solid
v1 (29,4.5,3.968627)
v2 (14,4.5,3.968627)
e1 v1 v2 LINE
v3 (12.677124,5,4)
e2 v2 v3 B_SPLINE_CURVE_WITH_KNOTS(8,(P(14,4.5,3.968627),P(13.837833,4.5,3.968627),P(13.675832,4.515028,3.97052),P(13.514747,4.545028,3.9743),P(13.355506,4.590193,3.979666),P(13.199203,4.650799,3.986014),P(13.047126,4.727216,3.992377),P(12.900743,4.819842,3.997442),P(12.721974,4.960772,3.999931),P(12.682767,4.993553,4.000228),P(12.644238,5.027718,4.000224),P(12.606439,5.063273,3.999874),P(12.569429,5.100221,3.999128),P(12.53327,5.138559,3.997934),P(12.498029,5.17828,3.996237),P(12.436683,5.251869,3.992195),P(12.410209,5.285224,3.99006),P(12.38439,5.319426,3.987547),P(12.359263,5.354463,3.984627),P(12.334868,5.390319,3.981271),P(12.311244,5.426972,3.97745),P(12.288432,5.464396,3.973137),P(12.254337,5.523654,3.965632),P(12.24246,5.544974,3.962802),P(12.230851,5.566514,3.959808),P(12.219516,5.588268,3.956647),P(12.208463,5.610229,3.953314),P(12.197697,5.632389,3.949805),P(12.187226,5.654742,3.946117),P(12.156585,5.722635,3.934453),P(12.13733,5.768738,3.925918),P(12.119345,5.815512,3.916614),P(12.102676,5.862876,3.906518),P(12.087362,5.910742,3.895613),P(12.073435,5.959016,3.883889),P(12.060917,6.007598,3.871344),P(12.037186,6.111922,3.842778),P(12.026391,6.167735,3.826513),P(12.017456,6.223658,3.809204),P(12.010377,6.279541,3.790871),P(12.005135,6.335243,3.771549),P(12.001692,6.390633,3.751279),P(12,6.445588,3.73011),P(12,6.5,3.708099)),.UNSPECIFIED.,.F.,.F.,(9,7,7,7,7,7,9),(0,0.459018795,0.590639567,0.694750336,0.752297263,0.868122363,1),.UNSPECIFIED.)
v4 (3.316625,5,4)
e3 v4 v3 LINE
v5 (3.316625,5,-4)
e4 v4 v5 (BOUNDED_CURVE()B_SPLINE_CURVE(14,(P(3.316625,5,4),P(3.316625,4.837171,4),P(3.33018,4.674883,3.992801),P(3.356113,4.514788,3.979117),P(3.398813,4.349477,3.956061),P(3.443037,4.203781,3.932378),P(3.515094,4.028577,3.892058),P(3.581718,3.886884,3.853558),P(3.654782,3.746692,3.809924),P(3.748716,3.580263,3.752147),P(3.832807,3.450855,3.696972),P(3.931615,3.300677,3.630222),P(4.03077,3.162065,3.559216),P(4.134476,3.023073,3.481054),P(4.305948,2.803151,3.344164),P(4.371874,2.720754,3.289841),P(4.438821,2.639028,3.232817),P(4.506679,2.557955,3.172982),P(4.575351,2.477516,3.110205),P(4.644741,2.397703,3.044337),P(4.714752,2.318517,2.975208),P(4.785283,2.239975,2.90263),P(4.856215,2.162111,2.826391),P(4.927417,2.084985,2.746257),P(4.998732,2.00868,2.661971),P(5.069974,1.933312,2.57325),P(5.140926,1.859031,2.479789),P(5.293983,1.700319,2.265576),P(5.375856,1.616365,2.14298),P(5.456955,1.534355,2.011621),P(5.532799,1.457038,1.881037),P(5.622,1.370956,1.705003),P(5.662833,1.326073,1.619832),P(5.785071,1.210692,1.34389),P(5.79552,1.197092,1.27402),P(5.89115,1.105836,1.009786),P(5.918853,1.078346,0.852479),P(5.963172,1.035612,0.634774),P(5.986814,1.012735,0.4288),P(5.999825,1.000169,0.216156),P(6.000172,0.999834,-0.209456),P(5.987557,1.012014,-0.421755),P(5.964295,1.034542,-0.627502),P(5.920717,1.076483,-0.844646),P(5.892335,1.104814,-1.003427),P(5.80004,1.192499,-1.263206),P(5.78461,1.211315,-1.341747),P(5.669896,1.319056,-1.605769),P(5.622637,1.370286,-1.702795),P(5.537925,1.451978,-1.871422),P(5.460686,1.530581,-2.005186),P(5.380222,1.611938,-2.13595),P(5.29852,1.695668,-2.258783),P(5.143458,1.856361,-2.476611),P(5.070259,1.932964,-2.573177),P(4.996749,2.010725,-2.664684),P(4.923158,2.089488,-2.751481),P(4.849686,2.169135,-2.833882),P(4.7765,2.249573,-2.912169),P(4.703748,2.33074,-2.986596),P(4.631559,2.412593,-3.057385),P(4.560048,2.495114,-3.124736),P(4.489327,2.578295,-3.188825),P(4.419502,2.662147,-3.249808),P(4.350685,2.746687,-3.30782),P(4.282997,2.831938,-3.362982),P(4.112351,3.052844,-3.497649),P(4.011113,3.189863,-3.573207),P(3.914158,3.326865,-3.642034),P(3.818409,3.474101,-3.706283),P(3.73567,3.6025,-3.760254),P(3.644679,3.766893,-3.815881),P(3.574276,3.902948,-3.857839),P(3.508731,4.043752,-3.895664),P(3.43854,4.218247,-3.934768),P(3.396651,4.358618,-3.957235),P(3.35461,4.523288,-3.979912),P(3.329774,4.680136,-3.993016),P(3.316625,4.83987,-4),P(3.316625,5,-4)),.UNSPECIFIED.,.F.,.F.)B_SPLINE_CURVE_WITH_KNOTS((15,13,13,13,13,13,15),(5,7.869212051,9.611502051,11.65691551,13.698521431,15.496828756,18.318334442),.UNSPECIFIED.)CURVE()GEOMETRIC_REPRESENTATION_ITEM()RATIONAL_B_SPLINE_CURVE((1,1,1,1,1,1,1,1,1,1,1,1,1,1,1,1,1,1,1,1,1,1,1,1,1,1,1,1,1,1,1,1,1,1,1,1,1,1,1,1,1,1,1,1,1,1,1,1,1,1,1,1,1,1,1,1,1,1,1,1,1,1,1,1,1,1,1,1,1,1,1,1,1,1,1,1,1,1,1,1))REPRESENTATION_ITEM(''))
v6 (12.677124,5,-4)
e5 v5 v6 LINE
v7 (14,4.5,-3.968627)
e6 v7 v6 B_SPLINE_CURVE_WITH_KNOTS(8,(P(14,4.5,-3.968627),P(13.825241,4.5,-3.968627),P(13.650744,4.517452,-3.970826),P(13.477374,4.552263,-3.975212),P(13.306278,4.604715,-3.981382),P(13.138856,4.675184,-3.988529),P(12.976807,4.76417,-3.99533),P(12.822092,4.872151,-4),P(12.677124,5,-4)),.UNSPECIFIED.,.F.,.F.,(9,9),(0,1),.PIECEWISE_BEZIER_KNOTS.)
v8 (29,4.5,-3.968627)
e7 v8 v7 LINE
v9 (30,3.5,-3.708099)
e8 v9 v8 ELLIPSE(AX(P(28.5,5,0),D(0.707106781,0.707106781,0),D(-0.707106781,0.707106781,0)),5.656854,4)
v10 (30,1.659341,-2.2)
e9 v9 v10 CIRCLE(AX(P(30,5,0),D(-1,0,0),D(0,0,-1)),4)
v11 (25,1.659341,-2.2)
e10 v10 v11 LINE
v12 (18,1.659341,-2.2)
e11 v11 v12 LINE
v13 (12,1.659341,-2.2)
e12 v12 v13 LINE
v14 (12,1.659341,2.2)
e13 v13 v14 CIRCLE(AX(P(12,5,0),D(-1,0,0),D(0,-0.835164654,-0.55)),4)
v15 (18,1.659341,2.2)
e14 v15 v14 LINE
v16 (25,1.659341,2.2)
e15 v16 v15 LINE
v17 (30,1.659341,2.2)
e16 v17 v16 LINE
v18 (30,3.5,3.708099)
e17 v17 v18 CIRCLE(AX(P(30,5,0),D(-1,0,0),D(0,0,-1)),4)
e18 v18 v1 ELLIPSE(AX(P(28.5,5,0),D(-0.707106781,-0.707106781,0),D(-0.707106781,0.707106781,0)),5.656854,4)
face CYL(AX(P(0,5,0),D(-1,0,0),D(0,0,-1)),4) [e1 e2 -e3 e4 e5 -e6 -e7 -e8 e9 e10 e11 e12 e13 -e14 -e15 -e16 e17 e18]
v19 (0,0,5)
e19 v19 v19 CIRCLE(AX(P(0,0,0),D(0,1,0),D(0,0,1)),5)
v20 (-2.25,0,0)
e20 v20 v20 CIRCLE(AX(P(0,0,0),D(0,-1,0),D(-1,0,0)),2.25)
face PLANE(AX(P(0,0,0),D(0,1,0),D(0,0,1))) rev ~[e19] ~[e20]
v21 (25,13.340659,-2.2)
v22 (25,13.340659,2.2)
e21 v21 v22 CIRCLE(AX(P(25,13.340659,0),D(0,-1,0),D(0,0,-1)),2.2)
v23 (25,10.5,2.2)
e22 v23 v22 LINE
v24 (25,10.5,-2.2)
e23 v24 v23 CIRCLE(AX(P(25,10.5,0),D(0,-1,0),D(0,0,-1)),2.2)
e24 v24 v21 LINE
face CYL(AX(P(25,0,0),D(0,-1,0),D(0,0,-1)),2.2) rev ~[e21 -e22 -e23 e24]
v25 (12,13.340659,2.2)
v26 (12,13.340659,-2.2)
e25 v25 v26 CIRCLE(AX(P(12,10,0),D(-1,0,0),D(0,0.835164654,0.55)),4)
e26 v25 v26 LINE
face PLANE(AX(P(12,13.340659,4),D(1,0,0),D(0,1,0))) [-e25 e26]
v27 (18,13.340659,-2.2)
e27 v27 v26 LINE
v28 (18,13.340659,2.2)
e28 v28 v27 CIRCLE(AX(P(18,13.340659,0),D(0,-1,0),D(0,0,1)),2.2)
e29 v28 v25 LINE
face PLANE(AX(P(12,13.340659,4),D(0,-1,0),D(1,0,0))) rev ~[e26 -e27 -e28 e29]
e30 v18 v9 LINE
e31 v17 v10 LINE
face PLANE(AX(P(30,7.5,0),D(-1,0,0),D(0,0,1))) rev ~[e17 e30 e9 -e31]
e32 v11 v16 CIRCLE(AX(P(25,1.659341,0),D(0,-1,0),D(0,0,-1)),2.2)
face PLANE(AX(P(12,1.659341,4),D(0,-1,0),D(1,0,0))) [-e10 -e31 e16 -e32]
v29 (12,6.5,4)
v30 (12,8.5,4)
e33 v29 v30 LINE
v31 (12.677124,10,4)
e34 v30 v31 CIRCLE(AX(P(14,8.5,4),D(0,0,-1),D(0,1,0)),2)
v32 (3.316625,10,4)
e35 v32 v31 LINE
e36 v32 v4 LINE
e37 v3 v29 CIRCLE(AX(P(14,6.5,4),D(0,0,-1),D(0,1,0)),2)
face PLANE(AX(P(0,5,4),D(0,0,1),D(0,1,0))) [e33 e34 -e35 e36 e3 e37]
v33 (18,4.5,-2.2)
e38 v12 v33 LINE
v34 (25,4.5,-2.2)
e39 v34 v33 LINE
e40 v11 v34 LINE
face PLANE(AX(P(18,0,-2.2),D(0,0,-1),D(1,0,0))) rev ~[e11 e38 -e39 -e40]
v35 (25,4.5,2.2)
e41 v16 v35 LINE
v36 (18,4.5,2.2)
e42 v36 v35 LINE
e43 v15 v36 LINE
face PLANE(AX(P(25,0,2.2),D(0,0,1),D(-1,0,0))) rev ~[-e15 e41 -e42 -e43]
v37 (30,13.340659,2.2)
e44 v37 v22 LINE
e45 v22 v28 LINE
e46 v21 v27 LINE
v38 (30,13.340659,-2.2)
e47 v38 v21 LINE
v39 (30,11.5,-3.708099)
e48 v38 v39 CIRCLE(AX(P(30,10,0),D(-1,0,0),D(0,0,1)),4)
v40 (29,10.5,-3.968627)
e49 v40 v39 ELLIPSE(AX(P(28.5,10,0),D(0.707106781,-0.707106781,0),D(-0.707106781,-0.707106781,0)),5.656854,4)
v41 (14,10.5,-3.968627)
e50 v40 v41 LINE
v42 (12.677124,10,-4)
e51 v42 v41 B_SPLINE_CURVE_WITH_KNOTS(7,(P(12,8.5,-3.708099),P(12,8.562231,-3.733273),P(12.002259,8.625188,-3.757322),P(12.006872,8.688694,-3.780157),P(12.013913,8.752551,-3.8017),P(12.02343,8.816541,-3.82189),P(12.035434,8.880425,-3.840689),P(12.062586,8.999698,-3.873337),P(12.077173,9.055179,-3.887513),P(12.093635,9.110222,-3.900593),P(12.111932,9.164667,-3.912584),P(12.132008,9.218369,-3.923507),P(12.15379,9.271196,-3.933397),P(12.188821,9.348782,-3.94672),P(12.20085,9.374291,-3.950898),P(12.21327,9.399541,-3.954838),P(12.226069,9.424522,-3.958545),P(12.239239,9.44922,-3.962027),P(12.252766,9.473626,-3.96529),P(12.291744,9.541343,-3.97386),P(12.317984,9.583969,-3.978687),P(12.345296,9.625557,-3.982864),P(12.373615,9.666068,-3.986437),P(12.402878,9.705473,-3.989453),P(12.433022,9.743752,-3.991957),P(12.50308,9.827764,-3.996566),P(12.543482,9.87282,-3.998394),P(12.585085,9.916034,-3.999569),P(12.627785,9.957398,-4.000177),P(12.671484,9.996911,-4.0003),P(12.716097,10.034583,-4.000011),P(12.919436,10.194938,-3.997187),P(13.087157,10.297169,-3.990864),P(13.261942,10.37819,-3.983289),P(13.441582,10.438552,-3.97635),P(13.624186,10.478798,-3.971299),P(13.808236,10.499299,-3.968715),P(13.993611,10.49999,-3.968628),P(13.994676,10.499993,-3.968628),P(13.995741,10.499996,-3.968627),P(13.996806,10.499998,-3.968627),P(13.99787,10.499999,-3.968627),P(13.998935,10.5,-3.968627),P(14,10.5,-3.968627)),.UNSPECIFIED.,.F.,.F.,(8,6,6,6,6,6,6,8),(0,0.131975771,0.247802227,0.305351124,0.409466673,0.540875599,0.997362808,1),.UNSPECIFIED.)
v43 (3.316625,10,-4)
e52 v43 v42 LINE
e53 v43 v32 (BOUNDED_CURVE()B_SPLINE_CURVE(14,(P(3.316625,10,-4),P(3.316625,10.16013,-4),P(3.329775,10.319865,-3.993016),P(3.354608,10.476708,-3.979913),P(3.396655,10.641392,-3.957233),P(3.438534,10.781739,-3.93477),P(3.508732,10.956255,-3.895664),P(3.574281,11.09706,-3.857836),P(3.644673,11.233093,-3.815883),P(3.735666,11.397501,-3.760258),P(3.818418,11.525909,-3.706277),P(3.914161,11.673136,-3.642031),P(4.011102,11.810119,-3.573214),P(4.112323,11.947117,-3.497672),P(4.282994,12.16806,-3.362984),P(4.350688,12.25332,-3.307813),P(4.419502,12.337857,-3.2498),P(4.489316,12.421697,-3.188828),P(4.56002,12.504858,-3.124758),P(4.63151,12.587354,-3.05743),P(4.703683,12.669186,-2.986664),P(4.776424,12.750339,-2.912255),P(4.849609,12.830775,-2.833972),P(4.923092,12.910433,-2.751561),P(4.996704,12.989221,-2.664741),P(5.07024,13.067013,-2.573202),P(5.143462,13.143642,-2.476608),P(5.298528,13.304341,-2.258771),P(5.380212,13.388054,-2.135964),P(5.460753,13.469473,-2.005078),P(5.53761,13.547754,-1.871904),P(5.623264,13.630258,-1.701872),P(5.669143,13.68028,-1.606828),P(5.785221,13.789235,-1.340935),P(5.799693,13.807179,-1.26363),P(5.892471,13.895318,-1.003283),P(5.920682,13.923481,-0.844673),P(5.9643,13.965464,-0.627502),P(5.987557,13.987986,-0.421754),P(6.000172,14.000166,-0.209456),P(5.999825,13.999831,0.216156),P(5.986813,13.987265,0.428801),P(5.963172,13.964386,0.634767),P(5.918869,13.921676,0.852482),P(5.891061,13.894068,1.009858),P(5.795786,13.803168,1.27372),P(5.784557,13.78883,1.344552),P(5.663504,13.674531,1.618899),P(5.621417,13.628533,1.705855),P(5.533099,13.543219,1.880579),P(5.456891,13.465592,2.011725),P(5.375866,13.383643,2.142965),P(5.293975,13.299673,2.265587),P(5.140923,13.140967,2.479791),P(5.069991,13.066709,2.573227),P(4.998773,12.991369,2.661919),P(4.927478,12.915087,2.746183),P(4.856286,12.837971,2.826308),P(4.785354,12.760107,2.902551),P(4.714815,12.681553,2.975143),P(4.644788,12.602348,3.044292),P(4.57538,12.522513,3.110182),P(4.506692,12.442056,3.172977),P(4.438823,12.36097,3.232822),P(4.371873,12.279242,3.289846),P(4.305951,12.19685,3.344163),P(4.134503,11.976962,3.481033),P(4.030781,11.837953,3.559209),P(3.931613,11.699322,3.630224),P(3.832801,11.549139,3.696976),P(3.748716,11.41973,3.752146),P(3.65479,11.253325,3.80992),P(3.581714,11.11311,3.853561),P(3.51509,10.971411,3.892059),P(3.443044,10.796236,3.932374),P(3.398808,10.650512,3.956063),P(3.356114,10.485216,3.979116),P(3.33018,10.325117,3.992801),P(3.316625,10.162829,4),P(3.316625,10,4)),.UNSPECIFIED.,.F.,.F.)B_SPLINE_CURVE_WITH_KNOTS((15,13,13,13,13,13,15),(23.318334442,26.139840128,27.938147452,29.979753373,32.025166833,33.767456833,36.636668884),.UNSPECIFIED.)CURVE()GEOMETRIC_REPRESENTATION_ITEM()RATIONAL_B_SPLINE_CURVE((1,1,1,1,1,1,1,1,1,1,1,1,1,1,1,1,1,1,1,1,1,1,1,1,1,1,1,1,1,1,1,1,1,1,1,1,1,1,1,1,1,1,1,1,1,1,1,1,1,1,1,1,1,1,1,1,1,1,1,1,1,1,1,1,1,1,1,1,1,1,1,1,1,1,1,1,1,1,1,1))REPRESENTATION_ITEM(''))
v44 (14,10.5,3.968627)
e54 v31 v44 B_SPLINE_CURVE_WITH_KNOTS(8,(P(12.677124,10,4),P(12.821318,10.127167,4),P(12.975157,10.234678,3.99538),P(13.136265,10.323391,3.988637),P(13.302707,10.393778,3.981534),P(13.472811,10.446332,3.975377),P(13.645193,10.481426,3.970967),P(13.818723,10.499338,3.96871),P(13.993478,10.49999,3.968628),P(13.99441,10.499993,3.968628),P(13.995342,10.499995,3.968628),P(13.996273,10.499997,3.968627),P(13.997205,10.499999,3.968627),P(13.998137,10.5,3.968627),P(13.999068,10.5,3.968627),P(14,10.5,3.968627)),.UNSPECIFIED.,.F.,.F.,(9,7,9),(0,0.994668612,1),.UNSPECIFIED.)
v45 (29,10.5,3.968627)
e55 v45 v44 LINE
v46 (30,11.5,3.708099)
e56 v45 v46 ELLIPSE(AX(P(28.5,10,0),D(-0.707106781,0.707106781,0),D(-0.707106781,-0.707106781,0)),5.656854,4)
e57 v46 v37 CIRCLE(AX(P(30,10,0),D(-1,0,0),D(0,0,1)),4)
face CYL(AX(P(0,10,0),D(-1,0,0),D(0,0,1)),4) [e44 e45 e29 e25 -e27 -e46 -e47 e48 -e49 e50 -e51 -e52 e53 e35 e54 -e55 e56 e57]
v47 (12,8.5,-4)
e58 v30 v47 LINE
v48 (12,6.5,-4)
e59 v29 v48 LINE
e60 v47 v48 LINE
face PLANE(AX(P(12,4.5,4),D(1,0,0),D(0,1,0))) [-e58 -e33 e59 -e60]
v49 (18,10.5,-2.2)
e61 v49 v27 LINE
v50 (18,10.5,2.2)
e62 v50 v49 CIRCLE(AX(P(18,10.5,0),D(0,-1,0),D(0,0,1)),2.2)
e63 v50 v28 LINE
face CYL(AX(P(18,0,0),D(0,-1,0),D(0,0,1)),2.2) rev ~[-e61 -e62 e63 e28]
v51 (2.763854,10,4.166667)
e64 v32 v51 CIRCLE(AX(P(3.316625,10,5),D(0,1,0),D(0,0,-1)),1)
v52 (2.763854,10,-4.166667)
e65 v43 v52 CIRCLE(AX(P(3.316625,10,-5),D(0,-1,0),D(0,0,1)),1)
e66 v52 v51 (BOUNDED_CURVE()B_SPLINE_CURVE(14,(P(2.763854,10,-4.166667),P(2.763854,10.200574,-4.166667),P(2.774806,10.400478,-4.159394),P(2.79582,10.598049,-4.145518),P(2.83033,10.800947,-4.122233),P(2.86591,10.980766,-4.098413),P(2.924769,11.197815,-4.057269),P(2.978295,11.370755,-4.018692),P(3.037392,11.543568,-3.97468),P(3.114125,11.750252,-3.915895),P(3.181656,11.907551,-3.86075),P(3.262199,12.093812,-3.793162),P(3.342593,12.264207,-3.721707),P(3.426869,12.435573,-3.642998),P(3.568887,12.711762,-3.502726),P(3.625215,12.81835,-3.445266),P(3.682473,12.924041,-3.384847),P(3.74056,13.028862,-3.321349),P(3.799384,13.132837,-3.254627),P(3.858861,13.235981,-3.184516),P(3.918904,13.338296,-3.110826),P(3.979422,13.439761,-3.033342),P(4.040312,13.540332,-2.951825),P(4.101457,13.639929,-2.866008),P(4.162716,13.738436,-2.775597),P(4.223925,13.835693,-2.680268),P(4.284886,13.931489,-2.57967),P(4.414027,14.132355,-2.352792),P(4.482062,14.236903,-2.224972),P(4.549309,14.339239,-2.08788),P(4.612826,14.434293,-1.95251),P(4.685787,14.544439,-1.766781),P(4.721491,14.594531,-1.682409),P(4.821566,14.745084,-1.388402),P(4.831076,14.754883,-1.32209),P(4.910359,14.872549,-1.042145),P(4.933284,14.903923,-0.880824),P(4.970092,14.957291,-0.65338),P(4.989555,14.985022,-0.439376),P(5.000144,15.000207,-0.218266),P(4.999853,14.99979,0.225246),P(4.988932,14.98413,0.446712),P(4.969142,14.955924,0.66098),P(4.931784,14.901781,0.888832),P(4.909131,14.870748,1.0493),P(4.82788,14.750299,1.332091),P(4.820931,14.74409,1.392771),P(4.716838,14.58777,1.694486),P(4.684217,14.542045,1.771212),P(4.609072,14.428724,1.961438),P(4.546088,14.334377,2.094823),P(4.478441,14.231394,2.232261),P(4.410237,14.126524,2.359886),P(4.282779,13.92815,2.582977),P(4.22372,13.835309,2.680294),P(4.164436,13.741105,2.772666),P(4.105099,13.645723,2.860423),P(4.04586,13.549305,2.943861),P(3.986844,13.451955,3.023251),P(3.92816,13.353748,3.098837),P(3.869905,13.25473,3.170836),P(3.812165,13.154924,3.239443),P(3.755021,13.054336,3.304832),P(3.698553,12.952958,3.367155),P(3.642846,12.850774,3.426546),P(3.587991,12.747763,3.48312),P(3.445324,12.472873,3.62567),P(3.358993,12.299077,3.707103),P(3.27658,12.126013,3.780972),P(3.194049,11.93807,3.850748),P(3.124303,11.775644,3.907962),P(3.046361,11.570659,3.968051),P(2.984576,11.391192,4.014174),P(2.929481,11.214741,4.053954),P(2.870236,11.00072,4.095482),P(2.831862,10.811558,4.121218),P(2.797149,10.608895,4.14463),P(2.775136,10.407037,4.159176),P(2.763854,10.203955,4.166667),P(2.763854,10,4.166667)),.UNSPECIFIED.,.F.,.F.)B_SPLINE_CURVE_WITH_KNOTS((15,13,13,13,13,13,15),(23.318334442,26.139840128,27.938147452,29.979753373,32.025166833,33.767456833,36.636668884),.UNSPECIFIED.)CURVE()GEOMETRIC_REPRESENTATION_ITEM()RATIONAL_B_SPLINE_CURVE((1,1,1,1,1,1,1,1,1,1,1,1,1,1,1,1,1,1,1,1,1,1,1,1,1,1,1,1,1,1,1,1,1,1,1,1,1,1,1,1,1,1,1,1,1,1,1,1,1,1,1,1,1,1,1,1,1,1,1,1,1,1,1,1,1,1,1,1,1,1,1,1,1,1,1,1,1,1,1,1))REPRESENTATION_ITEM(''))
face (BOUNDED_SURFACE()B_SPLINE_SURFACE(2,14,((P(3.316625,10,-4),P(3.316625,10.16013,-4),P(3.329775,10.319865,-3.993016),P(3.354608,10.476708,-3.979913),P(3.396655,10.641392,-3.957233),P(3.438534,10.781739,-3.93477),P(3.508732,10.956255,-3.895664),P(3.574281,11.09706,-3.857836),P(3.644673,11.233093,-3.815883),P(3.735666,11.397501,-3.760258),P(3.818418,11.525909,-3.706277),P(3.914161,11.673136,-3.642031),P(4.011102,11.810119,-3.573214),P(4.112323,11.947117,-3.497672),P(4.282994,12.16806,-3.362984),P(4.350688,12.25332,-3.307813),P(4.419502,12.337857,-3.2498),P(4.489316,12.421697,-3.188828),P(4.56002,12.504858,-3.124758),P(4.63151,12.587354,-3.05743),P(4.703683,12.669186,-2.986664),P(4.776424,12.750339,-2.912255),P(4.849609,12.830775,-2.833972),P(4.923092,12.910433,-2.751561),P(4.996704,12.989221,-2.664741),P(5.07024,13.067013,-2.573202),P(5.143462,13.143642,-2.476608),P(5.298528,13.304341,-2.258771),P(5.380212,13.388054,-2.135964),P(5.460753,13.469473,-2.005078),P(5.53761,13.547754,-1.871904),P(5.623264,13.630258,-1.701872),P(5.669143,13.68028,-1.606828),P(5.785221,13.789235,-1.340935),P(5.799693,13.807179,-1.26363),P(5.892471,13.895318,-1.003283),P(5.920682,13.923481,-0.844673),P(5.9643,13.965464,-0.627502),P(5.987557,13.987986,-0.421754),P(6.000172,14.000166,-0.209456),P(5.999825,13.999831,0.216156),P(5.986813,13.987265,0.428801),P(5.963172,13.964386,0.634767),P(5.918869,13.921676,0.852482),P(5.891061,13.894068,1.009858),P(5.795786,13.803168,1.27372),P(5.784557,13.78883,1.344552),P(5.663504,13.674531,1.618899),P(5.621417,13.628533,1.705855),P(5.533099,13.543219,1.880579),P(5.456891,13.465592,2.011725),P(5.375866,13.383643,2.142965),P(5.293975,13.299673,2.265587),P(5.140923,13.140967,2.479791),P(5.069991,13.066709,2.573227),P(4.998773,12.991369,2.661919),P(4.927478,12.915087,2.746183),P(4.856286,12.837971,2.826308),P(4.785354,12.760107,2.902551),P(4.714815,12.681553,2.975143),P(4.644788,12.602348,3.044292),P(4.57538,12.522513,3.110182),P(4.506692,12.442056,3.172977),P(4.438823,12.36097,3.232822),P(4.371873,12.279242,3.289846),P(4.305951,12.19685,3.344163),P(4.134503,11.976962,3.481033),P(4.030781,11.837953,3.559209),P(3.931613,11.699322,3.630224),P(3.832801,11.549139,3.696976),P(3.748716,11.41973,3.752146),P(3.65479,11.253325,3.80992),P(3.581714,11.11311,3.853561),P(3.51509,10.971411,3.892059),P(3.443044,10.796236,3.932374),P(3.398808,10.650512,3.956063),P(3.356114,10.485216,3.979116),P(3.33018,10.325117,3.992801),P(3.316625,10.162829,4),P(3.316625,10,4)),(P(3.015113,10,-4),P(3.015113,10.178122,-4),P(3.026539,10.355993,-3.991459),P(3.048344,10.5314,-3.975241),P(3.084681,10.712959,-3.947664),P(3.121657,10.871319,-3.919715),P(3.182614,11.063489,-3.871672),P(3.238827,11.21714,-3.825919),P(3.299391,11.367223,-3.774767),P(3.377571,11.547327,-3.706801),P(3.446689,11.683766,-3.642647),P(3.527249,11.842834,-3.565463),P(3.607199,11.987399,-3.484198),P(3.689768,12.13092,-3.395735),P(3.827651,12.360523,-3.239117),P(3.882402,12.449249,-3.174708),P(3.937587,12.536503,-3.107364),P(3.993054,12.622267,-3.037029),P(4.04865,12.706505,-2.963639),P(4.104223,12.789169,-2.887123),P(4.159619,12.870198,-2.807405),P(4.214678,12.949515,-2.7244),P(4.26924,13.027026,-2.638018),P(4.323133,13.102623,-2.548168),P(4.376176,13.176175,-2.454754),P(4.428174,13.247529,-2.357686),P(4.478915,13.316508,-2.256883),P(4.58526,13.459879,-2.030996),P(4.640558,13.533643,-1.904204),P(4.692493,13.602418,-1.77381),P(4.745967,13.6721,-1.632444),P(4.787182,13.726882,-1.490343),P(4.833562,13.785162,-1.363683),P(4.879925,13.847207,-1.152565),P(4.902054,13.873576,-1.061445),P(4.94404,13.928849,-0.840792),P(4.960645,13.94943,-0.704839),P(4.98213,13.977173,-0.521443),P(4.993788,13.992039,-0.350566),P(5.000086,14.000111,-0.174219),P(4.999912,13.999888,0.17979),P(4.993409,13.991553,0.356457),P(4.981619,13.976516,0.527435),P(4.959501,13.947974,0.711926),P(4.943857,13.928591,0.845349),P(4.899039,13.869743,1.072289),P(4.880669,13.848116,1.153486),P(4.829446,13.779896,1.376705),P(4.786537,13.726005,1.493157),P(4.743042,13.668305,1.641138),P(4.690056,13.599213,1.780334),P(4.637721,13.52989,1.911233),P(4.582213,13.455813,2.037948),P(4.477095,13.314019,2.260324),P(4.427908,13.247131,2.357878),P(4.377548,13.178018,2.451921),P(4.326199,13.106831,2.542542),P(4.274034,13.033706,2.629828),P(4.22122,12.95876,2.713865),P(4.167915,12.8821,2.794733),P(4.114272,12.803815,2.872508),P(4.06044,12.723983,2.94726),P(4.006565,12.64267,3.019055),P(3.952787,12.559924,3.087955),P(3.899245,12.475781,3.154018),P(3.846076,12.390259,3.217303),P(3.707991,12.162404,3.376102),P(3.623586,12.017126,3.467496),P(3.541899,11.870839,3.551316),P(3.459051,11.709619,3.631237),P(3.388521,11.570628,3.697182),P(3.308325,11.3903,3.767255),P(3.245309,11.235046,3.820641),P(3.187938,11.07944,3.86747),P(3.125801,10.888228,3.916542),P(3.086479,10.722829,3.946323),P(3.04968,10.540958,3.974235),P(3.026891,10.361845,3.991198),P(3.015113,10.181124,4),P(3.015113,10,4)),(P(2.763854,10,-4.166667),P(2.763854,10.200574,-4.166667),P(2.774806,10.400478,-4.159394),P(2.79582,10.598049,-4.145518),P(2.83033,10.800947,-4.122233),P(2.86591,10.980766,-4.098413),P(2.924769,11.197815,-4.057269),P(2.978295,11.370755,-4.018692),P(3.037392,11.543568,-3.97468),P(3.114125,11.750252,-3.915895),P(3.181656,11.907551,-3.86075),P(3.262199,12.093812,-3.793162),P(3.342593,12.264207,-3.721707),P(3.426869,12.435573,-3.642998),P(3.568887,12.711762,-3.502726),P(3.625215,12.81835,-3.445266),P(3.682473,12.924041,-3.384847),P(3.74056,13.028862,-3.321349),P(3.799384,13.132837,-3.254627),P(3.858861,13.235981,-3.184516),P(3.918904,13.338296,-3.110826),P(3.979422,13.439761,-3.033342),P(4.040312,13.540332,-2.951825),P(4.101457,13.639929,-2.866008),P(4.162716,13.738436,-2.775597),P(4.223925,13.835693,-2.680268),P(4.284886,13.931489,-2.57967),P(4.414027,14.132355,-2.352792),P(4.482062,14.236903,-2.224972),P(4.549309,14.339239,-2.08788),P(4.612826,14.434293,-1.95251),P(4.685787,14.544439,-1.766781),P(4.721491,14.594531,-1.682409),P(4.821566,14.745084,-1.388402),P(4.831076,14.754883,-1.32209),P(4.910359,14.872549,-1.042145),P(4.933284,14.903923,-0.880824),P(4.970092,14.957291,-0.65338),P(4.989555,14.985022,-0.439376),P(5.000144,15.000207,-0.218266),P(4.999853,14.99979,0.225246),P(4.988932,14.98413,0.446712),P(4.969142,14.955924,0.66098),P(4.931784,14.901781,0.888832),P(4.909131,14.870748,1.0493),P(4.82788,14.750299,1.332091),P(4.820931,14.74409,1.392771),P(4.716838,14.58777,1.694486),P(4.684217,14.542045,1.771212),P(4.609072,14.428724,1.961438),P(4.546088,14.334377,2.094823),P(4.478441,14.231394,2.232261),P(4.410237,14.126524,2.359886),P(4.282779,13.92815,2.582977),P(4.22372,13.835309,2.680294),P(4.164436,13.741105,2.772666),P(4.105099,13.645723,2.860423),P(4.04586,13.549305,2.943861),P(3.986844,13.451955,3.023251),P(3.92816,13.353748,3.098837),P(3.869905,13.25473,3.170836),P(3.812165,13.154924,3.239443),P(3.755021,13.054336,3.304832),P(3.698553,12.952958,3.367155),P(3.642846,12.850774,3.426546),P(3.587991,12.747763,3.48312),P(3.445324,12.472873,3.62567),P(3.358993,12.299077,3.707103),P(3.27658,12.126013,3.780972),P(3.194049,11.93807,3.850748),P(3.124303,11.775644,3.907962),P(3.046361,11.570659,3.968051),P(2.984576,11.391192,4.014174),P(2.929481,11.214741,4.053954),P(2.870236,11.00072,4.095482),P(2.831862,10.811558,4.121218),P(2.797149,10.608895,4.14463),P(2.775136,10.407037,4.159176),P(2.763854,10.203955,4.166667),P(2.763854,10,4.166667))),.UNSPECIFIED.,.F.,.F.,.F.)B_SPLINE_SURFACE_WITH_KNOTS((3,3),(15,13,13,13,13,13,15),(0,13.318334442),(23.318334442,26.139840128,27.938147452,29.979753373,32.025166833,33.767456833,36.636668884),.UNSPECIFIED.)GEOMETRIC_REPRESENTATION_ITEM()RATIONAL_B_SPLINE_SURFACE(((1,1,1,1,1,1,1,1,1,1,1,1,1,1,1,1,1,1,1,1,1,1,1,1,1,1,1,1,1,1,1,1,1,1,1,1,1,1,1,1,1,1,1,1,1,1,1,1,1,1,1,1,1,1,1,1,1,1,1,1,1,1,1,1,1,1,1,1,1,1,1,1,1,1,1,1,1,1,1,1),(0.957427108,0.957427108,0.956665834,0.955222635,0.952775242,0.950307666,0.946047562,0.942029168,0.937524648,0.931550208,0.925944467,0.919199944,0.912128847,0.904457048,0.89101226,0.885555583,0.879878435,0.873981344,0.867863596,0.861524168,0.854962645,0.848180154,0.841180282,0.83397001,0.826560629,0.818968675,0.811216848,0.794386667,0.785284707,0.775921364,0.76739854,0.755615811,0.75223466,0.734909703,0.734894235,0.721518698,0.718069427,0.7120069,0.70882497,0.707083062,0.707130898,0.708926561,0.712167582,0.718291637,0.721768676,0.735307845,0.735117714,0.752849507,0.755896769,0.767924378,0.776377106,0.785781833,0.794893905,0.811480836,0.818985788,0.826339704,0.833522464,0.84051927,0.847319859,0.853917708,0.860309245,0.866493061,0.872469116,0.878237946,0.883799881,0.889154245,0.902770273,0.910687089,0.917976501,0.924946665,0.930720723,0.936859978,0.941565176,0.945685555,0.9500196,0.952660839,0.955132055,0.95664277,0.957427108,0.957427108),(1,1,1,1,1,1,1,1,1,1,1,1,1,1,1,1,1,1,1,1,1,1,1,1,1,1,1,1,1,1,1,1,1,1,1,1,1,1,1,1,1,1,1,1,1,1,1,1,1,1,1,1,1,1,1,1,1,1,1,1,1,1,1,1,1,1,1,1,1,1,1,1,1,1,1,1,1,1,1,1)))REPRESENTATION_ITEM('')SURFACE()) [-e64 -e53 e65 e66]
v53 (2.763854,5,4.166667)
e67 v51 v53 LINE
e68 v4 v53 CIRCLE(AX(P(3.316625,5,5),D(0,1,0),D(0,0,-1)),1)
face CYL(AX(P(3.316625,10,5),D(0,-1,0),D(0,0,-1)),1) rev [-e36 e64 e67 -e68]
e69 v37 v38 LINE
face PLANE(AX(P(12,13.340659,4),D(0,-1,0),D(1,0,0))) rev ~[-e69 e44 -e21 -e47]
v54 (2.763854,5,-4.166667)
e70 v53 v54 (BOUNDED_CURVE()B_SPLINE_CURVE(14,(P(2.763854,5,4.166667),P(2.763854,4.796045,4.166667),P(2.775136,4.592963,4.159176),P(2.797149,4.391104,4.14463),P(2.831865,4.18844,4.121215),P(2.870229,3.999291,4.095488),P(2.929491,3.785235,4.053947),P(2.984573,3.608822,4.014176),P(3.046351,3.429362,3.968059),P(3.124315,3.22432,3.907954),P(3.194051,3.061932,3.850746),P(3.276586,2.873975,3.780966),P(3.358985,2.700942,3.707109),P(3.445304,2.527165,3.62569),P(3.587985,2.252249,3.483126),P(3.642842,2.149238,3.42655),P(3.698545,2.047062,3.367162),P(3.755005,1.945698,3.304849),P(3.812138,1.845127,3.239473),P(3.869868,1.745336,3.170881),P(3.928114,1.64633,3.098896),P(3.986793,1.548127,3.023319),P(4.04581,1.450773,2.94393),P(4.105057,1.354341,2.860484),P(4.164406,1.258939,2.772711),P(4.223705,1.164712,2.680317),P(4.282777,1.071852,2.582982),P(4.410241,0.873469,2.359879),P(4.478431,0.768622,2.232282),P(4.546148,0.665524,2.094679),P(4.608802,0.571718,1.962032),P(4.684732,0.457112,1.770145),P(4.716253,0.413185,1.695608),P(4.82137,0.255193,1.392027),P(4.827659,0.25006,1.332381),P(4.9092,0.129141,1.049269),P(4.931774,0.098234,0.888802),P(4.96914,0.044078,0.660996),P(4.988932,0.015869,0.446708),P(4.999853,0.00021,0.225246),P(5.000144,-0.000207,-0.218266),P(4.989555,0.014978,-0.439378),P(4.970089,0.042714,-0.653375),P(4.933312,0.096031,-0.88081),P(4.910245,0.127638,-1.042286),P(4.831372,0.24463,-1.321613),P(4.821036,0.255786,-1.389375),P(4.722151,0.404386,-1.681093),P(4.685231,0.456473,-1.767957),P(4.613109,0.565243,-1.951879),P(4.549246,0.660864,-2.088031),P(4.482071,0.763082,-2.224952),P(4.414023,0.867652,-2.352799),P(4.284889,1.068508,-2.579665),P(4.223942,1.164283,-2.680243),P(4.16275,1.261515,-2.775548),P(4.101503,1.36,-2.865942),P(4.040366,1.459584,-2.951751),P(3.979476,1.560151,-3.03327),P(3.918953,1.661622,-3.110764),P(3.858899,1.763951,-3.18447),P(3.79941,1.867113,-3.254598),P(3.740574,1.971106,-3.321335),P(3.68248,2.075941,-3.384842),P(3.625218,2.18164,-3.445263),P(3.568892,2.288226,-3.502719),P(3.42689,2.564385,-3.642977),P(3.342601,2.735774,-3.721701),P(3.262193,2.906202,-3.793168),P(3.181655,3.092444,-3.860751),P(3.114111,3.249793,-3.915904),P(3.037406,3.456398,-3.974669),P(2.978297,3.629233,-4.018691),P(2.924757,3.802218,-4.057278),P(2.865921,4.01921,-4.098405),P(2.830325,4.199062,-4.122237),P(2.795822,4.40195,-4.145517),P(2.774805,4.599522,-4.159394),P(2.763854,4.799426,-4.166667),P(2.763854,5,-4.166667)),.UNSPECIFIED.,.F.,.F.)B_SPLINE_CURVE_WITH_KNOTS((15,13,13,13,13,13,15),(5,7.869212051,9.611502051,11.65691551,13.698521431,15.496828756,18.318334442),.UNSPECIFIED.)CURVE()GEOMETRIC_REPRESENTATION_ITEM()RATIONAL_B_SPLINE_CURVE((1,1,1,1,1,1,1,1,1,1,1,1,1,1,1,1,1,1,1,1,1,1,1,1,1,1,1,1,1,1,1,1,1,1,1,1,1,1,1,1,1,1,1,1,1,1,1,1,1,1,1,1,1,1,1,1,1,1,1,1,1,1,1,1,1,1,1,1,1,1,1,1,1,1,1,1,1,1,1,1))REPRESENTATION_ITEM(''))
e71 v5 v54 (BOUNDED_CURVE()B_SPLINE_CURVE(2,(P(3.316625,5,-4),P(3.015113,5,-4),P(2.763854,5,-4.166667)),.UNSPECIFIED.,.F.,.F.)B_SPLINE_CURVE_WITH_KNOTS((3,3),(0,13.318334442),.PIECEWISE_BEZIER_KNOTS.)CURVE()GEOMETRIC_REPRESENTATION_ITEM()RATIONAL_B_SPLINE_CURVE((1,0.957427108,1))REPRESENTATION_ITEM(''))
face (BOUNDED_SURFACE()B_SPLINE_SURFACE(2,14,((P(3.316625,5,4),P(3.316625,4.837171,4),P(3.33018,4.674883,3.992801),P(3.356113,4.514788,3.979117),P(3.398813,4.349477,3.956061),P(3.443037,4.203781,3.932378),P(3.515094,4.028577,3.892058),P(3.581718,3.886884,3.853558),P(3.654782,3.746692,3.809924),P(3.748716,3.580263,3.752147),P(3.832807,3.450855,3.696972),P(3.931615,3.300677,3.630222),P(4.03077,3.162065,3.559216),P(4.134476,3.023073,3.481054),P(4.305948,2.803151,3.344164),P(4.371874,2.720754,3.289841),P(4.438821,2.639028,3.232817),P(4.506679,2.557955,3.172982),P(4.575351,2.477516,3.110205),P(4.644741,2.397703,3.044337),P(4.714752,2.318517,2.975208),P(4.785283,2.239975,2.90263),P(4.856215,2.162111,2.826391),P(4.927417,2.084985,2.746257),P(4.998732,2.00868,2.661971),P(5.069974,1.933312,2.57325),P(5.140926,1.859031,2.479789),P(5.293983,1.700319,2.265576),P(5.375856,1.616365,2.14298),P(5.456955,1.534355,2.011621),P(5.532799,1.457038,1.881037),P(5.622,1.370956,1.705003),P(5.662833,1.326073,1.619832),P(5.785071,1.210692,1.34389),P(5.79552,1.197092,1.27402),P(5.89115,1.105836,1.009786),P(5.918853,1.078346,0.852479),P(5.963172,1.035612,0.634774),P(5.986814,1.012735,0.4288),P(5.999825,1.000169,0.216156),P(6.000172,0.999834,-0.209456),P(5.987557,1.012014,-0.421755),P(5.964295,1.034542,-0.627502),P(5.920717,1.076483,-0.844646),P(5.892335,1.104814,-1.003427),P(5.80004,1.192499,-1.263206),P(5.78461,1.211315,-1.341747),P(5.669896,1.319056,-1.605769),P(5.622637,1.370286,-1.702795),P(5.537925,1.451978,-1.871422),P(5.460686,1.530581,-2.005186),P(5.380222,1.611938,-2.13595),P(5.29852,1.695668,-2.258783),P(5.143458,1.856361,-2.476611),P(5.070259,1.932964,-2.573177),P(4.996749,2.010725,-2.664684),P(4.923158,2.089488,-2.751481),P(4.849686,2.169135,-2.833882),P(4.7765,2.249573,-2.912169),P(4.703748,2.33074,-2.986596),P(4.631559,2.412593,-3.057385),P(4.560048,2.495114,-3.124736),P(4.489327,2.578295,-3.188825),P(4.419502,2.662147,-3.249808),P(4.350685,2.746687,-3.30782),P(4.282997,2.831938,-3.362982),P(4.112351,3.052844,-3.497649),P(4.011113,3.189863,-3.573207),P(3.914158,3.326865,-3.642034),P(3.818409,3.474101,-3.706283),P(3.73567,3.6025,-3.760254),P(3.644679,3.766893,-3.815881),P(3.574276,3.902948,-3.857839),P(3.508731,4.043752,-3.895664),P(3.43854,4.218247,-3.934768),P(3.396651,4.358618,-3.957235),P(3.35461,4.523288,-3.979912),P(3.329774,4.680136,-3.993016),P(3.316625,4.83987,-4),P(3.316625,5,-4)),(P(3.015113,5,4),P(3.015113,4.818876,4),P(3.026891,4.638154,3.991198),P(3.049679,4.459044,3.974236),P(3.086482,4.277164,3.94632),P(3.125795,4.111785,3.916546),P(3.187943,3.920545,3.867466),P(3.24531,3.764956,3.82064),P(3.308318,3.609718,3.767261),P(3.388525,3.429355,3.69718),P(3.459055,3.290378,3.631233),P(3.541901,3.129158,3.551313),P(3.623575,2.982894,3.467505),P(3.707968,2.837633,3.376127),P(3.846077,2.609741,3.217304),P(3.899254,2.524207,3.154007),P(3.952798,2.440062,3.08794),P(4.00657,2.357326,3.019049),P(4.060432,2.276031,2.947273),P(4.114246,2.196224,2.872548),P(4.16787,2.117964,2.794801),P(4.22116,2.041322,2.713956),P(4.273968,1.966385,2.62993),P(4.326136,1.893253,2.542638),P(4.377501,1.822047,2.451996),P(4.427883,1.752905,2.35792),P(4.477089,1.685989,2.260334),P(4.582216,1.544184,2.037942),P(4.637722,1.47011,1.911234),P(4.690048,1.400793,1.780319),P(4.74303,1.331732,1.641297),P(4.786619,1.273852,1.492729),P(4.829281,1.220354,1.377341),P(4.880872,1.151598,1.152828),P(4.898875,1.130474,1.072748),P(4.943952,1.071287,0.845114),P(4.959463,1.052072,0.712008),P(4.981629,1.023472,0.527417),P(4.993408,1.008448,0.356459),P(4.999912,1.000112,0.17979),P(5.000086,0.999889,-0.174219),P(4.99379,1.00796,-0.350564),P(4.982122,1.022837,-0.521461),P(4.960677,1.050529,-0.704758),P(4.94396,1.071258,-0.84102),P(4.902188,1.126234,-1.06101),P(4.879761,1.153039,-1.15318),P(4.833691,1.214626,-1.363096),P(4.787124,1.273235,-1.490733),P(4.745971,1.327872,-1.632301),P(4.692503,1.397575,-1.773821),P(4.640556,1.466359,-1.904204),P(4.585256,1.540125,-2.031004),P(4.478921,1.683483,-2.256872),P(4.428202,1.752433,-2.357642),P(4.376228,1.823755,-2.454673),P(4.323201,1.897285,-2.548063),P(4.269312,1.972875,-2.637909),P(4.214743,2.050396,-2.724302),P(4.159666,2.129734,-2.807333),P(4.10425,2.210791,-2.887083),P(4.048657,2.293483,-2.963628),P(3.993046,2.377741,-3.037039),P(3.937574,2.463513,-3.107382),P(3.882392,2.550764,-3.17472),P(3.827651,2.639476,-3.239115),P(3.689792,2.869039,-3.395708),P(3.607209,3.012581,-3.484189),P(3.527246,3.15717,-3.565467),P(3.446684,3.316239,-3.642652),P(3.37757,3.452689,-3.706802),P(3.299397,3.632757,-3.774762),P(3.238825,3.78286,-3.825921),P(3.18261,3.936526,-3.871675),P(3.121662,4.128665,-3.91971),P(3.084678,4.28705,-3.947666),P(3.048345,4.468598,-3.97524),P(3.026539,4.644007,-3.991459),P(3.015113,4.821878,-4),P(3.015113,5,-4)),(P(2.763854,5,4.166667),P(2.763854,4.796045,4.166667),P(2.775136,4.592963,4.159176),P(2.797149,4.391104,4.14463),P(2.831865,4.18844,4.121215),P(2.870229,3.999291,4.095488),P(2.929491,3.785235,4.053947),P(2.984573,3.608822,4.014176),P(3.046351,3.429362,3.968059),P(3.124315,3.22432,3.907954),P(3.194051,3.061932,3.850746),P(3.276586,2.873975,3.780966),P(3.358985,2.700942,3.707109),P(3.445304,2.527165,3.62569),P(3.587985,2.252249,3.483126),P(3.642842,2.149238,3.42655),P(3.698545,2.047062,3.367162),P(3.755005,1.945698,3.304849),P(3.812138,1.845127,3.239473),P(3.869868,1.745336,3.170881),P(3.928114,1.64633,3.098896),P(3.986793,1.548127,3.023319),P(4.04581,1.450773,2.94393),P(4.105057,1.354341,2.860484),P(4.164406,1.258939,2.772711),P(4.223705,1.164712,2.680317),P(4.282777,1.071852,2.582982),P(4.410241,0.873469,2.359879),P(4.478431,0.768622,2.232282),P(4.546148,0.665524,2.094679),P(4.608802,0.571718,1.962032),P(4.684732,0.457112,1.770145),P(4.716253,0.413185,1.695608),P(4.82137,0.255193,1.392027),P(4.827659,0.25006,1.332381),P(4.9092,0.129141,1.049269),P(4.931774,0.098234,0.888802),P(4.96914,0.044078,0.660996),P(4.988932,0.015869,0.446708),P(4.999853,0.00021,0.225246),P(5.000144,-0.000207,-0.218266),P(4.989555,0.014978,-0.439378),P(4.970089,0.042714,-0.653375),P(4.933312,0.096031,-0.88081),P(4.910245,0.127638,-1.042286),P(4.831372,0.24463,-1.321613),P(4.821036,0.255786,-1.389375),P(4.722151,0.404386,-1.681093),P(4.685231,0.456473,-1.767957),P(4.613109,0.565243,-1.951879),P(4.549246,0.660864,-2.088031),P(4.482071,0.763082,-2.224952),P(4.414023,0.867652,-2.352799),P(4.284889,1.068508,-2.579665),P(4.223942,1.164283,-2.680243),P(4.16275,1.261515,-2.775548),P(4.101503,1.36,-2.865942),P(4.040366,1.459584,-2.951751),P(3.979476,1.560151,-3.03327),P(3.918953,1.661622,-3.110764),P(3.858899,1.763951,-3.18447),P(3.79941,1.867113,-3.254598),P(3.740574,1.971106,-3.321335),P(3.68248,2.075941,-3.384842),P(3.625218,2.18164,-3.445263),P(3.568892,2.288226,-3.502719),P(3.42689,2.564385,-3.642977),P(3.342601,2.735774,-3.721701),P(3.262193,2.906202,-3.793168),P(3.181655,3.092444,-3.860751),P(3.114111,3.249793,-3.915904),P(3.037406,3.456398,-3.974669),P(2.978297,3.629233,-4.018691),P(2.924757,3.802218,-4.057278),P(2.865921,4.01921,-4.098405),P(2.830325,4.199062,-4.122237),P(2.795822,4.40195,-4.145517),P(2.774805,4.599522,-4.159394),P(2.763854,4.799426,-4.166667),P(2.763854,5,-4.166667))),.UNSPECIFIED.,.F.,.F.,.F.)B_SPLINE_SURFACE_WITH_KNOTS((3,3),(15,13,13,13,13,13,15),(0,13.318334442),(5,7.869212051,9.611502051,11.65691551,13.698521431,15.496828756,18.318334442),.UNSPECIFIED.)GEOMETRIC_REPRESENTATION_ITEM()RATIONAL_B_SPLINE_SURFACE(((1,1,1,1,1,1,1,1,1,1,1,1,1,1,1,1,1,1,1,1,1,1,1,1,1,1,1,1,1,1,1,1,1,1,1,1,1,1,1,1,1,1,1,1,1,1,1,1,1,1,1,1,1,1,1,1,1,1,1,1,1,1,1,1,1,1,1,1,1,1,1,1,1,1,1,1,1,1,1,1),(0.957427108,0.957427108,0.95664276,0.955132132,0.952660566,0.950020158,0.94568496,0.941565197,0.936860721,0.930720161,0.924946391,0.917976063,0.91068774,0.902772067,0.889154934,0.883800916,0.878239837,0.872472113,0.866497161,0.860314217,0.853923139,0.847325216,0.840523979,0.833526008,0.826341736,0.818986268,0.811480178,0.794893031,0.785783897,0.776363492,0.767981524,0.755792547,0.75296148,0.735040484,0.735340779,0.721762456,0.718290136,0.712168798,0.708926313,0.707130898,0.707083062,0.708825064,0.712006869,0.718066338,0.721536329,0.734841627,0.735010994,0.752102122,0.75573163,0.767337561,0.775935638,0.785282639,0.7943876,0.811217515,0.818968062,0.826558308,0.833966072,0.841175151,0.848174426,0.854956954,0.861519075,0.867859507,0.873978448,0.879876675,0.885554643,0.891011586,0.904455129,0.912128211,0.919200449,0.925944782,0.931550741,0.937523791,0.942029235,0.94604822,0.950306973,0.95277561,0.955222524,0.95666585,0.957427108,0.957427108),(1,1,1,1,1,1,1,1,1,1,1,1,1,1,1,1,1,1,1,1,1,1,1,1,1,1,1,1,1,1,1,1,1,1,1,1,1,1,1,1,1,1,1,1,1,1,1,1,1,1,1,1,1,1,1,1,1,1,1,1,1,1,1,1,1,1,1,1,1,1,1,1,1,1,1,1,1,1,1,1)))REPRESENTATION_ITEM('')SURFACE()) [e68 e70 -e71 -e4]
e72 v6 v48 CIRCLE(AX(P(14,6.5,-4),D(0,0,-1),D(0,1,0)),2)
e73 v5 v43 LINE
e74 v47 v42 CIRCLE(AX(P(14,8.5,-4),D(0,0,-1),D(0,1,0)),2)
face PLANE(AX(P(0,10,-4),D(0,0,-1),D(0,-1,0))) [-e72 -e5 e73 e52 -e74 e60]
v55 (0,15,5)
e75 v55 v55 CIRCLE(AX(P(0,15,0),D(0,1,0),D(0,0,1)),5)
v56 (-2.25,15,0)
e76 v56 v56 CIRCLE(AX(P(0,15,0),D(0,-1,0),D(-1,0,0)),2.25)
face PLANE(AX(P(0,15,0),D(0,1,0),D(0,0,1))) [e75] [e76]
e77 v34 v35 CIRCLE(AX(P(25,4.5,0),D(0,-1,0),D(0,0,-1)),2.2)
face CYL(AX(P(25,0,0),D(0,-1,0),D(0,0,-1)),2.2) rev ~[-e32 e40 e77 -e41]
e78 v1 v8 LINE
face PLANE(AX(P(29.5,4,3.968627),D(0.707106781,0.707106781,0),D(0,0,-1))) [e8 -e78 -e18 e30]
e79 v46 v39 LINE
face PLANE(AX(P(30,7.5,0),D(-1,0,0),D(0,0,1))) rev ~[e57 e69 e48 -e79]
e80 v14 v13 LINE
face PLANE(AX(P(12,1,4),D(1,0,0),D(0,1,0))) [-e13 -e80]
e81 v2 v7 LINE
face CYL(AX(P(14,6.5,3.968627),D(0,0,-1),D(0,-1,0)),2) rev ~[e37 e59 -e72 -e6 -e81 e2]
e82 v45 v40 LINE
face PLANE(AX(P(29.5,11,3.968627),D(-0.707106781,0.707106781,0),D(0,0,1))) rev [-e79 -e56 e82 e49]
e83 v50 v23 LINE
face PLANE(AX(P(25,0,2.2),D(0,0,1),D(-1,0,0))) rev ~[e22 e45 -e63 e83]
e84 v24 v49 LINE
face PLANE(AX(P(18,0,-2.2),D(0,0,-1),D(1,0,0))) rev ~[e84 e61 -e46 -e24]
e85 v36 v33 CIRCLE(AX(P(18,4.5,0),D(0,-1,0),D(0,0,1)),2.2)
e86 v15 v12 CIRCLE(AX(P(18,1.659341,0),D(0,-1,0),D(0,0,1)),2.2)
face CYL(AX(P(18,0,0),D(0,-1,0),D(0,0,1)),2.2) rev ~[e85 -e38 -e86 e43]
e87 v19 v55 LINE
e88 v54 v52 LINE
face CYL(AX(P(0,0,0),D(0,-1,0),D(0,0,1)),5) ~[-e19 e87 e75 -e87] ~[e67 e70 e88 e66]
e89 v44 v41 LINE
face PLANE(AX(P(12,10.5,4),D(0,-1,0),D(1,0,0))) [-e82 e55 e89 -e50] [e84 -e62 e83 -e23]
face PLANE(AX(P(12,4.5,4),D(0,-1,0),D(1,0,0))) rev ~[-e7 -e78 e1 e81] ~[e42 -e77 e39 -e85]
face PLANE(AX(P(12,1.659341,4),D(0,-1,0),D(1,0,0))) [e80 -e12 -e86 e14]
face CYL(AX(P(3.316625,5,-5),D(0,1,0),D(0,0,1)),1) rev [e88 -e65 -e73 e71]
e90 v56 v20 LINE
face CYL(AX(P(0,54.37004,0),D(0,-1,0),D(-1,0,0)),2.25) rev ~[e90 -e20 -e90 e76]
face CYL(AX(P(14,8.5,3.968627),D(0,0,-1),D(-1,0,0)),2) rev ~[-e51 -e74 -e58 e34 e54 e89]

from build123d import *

# Parameters (mm, degrees)
SKETCH2_R            = 5
BOSS_EXTRUDE1_DEPTH  = 15
BOSS_EXTRUDE2_DEPTH  = 30
CUT_EXTRUDE1_DEPTH   = 34.911650063
M4_CLEARANCE_HOLE1_D = 4.5
FILLET1_R            = 1
SKETCH8_W            = 18
SKETCH8_H            = 6
SKETCH8_H_2          = 0.659341382
CUT_EXTRUDE2_DEPTH   = 35.727510864
CHAMFER1_SIZE        = 1
FILLET2_R            = 2


with BuildPart() as part:
    # Sketch2 → Boss-Extrude1 (new body)
    with BuildSketch(Plane(origin=(0, 0, 0), x_dir=(1, 0, 0), z_dir=(0, 1, 0))):
        with Locations(Location((0, 0, 0), (0, 0, 270))):
            Circle(SKETCH2_R)
    extrude(amount=BOSS_EXTRUDE1_DEPTH)

    # Sketch3 → Boss-Extrude2 (add)
    with BuildSketch(Plane(origin=(0, 0, 0), x_dir=(0, 0, -1), z_dir=(1, 0, 0))):
        with BuildLine():
            Line((-4, 5), (-4, 10))
            ThreePointArc((-4, 10), (0, 14), (4, 10))
            Line((4, 10), (4, 5))
            ThreePointArc((4, 5), (0, 1), (-4, 5))
        make_face()
    extrude(amount=BOSS_EXTRUDE2_DEPTH)

    # Sketch5 → Cut-Extrude1 (cut, through all)
    with BuildSketch(Plane(origin=(0, 0, 0), x_dir=(1, 0, 0), z_dir=(0, 1, 0))):
        with BuildLine():
            Line((18, 2.2), (25, 2.2))
            ThreePointArc((25, 2.2), (27.2, 0), (25, -2.2))
            Line((25, -2.2), (18, -2.2))
            ThreePointArc((18, -2.2), (15.8, 0), (18, 2.2))
        make_face()
    extrude(amount=CUT_EXTRUDE1_DEPTH, mode=Mode.SUBTRACT)

    # M4 Clearance Hole1 (through all)
    with Locations(Plane(origin=(0, 15, 0), x_dir=(1, 0, 0), z_dir=(0, 1, 0))):
        with Locations((0, 0)):
            Hole(M4_CLEARANCE_HOLE1_D / 2)

    # Fillet1
    fillet1_edges = [part.edges().sort_by_distance(p)[0] for p in [
        (3, 7.5, 4),
        (16.5, 5, 4),
        (3, 7.5, -4),
        (5, 1, 0),
    ]]
    fillet(fillet1_edges, radius=FILLET1_R)

    # Sketch8 → Cut-Extrude2 (cut, through all)
    with BuildSketch(Plane.XY.offset(4)):
        with Locations((21, 7.5)):
            Rectangle(SKETCH8_W, SKETCH8_H)
        with Locations((21, 1.329670691)):
            Rectangle(SKETCH8_W, SKETCH8_H_2)
        with Locations((21, 13.670329309)):
            Rectangle(SKETCH8_W, SKETCH8_H_2)
    extrude(amount=-CUT_EXTRUDE2_DEPTH, mode=Mode.SUBTRACT)

    # Chamfer1
    chamfer1_edges = [part.edges().sort_by_distance(p)[0] for p in [
        (30, 10.5, 0),
        (30, 4.5, 0),
    ]]
    chamfer(chamfer1_edges, length=CHAMFER1_SIZE)

    # Fillet2
    fillet2_edges = [part.edges().sort_by_distance(p)[0] for p in [
        (12, 10.5, 0),
        (12, 4.5, 0),
    ]]
    fillet(fillet2_edges, radius=FILLET2_R)


solid = part.part
